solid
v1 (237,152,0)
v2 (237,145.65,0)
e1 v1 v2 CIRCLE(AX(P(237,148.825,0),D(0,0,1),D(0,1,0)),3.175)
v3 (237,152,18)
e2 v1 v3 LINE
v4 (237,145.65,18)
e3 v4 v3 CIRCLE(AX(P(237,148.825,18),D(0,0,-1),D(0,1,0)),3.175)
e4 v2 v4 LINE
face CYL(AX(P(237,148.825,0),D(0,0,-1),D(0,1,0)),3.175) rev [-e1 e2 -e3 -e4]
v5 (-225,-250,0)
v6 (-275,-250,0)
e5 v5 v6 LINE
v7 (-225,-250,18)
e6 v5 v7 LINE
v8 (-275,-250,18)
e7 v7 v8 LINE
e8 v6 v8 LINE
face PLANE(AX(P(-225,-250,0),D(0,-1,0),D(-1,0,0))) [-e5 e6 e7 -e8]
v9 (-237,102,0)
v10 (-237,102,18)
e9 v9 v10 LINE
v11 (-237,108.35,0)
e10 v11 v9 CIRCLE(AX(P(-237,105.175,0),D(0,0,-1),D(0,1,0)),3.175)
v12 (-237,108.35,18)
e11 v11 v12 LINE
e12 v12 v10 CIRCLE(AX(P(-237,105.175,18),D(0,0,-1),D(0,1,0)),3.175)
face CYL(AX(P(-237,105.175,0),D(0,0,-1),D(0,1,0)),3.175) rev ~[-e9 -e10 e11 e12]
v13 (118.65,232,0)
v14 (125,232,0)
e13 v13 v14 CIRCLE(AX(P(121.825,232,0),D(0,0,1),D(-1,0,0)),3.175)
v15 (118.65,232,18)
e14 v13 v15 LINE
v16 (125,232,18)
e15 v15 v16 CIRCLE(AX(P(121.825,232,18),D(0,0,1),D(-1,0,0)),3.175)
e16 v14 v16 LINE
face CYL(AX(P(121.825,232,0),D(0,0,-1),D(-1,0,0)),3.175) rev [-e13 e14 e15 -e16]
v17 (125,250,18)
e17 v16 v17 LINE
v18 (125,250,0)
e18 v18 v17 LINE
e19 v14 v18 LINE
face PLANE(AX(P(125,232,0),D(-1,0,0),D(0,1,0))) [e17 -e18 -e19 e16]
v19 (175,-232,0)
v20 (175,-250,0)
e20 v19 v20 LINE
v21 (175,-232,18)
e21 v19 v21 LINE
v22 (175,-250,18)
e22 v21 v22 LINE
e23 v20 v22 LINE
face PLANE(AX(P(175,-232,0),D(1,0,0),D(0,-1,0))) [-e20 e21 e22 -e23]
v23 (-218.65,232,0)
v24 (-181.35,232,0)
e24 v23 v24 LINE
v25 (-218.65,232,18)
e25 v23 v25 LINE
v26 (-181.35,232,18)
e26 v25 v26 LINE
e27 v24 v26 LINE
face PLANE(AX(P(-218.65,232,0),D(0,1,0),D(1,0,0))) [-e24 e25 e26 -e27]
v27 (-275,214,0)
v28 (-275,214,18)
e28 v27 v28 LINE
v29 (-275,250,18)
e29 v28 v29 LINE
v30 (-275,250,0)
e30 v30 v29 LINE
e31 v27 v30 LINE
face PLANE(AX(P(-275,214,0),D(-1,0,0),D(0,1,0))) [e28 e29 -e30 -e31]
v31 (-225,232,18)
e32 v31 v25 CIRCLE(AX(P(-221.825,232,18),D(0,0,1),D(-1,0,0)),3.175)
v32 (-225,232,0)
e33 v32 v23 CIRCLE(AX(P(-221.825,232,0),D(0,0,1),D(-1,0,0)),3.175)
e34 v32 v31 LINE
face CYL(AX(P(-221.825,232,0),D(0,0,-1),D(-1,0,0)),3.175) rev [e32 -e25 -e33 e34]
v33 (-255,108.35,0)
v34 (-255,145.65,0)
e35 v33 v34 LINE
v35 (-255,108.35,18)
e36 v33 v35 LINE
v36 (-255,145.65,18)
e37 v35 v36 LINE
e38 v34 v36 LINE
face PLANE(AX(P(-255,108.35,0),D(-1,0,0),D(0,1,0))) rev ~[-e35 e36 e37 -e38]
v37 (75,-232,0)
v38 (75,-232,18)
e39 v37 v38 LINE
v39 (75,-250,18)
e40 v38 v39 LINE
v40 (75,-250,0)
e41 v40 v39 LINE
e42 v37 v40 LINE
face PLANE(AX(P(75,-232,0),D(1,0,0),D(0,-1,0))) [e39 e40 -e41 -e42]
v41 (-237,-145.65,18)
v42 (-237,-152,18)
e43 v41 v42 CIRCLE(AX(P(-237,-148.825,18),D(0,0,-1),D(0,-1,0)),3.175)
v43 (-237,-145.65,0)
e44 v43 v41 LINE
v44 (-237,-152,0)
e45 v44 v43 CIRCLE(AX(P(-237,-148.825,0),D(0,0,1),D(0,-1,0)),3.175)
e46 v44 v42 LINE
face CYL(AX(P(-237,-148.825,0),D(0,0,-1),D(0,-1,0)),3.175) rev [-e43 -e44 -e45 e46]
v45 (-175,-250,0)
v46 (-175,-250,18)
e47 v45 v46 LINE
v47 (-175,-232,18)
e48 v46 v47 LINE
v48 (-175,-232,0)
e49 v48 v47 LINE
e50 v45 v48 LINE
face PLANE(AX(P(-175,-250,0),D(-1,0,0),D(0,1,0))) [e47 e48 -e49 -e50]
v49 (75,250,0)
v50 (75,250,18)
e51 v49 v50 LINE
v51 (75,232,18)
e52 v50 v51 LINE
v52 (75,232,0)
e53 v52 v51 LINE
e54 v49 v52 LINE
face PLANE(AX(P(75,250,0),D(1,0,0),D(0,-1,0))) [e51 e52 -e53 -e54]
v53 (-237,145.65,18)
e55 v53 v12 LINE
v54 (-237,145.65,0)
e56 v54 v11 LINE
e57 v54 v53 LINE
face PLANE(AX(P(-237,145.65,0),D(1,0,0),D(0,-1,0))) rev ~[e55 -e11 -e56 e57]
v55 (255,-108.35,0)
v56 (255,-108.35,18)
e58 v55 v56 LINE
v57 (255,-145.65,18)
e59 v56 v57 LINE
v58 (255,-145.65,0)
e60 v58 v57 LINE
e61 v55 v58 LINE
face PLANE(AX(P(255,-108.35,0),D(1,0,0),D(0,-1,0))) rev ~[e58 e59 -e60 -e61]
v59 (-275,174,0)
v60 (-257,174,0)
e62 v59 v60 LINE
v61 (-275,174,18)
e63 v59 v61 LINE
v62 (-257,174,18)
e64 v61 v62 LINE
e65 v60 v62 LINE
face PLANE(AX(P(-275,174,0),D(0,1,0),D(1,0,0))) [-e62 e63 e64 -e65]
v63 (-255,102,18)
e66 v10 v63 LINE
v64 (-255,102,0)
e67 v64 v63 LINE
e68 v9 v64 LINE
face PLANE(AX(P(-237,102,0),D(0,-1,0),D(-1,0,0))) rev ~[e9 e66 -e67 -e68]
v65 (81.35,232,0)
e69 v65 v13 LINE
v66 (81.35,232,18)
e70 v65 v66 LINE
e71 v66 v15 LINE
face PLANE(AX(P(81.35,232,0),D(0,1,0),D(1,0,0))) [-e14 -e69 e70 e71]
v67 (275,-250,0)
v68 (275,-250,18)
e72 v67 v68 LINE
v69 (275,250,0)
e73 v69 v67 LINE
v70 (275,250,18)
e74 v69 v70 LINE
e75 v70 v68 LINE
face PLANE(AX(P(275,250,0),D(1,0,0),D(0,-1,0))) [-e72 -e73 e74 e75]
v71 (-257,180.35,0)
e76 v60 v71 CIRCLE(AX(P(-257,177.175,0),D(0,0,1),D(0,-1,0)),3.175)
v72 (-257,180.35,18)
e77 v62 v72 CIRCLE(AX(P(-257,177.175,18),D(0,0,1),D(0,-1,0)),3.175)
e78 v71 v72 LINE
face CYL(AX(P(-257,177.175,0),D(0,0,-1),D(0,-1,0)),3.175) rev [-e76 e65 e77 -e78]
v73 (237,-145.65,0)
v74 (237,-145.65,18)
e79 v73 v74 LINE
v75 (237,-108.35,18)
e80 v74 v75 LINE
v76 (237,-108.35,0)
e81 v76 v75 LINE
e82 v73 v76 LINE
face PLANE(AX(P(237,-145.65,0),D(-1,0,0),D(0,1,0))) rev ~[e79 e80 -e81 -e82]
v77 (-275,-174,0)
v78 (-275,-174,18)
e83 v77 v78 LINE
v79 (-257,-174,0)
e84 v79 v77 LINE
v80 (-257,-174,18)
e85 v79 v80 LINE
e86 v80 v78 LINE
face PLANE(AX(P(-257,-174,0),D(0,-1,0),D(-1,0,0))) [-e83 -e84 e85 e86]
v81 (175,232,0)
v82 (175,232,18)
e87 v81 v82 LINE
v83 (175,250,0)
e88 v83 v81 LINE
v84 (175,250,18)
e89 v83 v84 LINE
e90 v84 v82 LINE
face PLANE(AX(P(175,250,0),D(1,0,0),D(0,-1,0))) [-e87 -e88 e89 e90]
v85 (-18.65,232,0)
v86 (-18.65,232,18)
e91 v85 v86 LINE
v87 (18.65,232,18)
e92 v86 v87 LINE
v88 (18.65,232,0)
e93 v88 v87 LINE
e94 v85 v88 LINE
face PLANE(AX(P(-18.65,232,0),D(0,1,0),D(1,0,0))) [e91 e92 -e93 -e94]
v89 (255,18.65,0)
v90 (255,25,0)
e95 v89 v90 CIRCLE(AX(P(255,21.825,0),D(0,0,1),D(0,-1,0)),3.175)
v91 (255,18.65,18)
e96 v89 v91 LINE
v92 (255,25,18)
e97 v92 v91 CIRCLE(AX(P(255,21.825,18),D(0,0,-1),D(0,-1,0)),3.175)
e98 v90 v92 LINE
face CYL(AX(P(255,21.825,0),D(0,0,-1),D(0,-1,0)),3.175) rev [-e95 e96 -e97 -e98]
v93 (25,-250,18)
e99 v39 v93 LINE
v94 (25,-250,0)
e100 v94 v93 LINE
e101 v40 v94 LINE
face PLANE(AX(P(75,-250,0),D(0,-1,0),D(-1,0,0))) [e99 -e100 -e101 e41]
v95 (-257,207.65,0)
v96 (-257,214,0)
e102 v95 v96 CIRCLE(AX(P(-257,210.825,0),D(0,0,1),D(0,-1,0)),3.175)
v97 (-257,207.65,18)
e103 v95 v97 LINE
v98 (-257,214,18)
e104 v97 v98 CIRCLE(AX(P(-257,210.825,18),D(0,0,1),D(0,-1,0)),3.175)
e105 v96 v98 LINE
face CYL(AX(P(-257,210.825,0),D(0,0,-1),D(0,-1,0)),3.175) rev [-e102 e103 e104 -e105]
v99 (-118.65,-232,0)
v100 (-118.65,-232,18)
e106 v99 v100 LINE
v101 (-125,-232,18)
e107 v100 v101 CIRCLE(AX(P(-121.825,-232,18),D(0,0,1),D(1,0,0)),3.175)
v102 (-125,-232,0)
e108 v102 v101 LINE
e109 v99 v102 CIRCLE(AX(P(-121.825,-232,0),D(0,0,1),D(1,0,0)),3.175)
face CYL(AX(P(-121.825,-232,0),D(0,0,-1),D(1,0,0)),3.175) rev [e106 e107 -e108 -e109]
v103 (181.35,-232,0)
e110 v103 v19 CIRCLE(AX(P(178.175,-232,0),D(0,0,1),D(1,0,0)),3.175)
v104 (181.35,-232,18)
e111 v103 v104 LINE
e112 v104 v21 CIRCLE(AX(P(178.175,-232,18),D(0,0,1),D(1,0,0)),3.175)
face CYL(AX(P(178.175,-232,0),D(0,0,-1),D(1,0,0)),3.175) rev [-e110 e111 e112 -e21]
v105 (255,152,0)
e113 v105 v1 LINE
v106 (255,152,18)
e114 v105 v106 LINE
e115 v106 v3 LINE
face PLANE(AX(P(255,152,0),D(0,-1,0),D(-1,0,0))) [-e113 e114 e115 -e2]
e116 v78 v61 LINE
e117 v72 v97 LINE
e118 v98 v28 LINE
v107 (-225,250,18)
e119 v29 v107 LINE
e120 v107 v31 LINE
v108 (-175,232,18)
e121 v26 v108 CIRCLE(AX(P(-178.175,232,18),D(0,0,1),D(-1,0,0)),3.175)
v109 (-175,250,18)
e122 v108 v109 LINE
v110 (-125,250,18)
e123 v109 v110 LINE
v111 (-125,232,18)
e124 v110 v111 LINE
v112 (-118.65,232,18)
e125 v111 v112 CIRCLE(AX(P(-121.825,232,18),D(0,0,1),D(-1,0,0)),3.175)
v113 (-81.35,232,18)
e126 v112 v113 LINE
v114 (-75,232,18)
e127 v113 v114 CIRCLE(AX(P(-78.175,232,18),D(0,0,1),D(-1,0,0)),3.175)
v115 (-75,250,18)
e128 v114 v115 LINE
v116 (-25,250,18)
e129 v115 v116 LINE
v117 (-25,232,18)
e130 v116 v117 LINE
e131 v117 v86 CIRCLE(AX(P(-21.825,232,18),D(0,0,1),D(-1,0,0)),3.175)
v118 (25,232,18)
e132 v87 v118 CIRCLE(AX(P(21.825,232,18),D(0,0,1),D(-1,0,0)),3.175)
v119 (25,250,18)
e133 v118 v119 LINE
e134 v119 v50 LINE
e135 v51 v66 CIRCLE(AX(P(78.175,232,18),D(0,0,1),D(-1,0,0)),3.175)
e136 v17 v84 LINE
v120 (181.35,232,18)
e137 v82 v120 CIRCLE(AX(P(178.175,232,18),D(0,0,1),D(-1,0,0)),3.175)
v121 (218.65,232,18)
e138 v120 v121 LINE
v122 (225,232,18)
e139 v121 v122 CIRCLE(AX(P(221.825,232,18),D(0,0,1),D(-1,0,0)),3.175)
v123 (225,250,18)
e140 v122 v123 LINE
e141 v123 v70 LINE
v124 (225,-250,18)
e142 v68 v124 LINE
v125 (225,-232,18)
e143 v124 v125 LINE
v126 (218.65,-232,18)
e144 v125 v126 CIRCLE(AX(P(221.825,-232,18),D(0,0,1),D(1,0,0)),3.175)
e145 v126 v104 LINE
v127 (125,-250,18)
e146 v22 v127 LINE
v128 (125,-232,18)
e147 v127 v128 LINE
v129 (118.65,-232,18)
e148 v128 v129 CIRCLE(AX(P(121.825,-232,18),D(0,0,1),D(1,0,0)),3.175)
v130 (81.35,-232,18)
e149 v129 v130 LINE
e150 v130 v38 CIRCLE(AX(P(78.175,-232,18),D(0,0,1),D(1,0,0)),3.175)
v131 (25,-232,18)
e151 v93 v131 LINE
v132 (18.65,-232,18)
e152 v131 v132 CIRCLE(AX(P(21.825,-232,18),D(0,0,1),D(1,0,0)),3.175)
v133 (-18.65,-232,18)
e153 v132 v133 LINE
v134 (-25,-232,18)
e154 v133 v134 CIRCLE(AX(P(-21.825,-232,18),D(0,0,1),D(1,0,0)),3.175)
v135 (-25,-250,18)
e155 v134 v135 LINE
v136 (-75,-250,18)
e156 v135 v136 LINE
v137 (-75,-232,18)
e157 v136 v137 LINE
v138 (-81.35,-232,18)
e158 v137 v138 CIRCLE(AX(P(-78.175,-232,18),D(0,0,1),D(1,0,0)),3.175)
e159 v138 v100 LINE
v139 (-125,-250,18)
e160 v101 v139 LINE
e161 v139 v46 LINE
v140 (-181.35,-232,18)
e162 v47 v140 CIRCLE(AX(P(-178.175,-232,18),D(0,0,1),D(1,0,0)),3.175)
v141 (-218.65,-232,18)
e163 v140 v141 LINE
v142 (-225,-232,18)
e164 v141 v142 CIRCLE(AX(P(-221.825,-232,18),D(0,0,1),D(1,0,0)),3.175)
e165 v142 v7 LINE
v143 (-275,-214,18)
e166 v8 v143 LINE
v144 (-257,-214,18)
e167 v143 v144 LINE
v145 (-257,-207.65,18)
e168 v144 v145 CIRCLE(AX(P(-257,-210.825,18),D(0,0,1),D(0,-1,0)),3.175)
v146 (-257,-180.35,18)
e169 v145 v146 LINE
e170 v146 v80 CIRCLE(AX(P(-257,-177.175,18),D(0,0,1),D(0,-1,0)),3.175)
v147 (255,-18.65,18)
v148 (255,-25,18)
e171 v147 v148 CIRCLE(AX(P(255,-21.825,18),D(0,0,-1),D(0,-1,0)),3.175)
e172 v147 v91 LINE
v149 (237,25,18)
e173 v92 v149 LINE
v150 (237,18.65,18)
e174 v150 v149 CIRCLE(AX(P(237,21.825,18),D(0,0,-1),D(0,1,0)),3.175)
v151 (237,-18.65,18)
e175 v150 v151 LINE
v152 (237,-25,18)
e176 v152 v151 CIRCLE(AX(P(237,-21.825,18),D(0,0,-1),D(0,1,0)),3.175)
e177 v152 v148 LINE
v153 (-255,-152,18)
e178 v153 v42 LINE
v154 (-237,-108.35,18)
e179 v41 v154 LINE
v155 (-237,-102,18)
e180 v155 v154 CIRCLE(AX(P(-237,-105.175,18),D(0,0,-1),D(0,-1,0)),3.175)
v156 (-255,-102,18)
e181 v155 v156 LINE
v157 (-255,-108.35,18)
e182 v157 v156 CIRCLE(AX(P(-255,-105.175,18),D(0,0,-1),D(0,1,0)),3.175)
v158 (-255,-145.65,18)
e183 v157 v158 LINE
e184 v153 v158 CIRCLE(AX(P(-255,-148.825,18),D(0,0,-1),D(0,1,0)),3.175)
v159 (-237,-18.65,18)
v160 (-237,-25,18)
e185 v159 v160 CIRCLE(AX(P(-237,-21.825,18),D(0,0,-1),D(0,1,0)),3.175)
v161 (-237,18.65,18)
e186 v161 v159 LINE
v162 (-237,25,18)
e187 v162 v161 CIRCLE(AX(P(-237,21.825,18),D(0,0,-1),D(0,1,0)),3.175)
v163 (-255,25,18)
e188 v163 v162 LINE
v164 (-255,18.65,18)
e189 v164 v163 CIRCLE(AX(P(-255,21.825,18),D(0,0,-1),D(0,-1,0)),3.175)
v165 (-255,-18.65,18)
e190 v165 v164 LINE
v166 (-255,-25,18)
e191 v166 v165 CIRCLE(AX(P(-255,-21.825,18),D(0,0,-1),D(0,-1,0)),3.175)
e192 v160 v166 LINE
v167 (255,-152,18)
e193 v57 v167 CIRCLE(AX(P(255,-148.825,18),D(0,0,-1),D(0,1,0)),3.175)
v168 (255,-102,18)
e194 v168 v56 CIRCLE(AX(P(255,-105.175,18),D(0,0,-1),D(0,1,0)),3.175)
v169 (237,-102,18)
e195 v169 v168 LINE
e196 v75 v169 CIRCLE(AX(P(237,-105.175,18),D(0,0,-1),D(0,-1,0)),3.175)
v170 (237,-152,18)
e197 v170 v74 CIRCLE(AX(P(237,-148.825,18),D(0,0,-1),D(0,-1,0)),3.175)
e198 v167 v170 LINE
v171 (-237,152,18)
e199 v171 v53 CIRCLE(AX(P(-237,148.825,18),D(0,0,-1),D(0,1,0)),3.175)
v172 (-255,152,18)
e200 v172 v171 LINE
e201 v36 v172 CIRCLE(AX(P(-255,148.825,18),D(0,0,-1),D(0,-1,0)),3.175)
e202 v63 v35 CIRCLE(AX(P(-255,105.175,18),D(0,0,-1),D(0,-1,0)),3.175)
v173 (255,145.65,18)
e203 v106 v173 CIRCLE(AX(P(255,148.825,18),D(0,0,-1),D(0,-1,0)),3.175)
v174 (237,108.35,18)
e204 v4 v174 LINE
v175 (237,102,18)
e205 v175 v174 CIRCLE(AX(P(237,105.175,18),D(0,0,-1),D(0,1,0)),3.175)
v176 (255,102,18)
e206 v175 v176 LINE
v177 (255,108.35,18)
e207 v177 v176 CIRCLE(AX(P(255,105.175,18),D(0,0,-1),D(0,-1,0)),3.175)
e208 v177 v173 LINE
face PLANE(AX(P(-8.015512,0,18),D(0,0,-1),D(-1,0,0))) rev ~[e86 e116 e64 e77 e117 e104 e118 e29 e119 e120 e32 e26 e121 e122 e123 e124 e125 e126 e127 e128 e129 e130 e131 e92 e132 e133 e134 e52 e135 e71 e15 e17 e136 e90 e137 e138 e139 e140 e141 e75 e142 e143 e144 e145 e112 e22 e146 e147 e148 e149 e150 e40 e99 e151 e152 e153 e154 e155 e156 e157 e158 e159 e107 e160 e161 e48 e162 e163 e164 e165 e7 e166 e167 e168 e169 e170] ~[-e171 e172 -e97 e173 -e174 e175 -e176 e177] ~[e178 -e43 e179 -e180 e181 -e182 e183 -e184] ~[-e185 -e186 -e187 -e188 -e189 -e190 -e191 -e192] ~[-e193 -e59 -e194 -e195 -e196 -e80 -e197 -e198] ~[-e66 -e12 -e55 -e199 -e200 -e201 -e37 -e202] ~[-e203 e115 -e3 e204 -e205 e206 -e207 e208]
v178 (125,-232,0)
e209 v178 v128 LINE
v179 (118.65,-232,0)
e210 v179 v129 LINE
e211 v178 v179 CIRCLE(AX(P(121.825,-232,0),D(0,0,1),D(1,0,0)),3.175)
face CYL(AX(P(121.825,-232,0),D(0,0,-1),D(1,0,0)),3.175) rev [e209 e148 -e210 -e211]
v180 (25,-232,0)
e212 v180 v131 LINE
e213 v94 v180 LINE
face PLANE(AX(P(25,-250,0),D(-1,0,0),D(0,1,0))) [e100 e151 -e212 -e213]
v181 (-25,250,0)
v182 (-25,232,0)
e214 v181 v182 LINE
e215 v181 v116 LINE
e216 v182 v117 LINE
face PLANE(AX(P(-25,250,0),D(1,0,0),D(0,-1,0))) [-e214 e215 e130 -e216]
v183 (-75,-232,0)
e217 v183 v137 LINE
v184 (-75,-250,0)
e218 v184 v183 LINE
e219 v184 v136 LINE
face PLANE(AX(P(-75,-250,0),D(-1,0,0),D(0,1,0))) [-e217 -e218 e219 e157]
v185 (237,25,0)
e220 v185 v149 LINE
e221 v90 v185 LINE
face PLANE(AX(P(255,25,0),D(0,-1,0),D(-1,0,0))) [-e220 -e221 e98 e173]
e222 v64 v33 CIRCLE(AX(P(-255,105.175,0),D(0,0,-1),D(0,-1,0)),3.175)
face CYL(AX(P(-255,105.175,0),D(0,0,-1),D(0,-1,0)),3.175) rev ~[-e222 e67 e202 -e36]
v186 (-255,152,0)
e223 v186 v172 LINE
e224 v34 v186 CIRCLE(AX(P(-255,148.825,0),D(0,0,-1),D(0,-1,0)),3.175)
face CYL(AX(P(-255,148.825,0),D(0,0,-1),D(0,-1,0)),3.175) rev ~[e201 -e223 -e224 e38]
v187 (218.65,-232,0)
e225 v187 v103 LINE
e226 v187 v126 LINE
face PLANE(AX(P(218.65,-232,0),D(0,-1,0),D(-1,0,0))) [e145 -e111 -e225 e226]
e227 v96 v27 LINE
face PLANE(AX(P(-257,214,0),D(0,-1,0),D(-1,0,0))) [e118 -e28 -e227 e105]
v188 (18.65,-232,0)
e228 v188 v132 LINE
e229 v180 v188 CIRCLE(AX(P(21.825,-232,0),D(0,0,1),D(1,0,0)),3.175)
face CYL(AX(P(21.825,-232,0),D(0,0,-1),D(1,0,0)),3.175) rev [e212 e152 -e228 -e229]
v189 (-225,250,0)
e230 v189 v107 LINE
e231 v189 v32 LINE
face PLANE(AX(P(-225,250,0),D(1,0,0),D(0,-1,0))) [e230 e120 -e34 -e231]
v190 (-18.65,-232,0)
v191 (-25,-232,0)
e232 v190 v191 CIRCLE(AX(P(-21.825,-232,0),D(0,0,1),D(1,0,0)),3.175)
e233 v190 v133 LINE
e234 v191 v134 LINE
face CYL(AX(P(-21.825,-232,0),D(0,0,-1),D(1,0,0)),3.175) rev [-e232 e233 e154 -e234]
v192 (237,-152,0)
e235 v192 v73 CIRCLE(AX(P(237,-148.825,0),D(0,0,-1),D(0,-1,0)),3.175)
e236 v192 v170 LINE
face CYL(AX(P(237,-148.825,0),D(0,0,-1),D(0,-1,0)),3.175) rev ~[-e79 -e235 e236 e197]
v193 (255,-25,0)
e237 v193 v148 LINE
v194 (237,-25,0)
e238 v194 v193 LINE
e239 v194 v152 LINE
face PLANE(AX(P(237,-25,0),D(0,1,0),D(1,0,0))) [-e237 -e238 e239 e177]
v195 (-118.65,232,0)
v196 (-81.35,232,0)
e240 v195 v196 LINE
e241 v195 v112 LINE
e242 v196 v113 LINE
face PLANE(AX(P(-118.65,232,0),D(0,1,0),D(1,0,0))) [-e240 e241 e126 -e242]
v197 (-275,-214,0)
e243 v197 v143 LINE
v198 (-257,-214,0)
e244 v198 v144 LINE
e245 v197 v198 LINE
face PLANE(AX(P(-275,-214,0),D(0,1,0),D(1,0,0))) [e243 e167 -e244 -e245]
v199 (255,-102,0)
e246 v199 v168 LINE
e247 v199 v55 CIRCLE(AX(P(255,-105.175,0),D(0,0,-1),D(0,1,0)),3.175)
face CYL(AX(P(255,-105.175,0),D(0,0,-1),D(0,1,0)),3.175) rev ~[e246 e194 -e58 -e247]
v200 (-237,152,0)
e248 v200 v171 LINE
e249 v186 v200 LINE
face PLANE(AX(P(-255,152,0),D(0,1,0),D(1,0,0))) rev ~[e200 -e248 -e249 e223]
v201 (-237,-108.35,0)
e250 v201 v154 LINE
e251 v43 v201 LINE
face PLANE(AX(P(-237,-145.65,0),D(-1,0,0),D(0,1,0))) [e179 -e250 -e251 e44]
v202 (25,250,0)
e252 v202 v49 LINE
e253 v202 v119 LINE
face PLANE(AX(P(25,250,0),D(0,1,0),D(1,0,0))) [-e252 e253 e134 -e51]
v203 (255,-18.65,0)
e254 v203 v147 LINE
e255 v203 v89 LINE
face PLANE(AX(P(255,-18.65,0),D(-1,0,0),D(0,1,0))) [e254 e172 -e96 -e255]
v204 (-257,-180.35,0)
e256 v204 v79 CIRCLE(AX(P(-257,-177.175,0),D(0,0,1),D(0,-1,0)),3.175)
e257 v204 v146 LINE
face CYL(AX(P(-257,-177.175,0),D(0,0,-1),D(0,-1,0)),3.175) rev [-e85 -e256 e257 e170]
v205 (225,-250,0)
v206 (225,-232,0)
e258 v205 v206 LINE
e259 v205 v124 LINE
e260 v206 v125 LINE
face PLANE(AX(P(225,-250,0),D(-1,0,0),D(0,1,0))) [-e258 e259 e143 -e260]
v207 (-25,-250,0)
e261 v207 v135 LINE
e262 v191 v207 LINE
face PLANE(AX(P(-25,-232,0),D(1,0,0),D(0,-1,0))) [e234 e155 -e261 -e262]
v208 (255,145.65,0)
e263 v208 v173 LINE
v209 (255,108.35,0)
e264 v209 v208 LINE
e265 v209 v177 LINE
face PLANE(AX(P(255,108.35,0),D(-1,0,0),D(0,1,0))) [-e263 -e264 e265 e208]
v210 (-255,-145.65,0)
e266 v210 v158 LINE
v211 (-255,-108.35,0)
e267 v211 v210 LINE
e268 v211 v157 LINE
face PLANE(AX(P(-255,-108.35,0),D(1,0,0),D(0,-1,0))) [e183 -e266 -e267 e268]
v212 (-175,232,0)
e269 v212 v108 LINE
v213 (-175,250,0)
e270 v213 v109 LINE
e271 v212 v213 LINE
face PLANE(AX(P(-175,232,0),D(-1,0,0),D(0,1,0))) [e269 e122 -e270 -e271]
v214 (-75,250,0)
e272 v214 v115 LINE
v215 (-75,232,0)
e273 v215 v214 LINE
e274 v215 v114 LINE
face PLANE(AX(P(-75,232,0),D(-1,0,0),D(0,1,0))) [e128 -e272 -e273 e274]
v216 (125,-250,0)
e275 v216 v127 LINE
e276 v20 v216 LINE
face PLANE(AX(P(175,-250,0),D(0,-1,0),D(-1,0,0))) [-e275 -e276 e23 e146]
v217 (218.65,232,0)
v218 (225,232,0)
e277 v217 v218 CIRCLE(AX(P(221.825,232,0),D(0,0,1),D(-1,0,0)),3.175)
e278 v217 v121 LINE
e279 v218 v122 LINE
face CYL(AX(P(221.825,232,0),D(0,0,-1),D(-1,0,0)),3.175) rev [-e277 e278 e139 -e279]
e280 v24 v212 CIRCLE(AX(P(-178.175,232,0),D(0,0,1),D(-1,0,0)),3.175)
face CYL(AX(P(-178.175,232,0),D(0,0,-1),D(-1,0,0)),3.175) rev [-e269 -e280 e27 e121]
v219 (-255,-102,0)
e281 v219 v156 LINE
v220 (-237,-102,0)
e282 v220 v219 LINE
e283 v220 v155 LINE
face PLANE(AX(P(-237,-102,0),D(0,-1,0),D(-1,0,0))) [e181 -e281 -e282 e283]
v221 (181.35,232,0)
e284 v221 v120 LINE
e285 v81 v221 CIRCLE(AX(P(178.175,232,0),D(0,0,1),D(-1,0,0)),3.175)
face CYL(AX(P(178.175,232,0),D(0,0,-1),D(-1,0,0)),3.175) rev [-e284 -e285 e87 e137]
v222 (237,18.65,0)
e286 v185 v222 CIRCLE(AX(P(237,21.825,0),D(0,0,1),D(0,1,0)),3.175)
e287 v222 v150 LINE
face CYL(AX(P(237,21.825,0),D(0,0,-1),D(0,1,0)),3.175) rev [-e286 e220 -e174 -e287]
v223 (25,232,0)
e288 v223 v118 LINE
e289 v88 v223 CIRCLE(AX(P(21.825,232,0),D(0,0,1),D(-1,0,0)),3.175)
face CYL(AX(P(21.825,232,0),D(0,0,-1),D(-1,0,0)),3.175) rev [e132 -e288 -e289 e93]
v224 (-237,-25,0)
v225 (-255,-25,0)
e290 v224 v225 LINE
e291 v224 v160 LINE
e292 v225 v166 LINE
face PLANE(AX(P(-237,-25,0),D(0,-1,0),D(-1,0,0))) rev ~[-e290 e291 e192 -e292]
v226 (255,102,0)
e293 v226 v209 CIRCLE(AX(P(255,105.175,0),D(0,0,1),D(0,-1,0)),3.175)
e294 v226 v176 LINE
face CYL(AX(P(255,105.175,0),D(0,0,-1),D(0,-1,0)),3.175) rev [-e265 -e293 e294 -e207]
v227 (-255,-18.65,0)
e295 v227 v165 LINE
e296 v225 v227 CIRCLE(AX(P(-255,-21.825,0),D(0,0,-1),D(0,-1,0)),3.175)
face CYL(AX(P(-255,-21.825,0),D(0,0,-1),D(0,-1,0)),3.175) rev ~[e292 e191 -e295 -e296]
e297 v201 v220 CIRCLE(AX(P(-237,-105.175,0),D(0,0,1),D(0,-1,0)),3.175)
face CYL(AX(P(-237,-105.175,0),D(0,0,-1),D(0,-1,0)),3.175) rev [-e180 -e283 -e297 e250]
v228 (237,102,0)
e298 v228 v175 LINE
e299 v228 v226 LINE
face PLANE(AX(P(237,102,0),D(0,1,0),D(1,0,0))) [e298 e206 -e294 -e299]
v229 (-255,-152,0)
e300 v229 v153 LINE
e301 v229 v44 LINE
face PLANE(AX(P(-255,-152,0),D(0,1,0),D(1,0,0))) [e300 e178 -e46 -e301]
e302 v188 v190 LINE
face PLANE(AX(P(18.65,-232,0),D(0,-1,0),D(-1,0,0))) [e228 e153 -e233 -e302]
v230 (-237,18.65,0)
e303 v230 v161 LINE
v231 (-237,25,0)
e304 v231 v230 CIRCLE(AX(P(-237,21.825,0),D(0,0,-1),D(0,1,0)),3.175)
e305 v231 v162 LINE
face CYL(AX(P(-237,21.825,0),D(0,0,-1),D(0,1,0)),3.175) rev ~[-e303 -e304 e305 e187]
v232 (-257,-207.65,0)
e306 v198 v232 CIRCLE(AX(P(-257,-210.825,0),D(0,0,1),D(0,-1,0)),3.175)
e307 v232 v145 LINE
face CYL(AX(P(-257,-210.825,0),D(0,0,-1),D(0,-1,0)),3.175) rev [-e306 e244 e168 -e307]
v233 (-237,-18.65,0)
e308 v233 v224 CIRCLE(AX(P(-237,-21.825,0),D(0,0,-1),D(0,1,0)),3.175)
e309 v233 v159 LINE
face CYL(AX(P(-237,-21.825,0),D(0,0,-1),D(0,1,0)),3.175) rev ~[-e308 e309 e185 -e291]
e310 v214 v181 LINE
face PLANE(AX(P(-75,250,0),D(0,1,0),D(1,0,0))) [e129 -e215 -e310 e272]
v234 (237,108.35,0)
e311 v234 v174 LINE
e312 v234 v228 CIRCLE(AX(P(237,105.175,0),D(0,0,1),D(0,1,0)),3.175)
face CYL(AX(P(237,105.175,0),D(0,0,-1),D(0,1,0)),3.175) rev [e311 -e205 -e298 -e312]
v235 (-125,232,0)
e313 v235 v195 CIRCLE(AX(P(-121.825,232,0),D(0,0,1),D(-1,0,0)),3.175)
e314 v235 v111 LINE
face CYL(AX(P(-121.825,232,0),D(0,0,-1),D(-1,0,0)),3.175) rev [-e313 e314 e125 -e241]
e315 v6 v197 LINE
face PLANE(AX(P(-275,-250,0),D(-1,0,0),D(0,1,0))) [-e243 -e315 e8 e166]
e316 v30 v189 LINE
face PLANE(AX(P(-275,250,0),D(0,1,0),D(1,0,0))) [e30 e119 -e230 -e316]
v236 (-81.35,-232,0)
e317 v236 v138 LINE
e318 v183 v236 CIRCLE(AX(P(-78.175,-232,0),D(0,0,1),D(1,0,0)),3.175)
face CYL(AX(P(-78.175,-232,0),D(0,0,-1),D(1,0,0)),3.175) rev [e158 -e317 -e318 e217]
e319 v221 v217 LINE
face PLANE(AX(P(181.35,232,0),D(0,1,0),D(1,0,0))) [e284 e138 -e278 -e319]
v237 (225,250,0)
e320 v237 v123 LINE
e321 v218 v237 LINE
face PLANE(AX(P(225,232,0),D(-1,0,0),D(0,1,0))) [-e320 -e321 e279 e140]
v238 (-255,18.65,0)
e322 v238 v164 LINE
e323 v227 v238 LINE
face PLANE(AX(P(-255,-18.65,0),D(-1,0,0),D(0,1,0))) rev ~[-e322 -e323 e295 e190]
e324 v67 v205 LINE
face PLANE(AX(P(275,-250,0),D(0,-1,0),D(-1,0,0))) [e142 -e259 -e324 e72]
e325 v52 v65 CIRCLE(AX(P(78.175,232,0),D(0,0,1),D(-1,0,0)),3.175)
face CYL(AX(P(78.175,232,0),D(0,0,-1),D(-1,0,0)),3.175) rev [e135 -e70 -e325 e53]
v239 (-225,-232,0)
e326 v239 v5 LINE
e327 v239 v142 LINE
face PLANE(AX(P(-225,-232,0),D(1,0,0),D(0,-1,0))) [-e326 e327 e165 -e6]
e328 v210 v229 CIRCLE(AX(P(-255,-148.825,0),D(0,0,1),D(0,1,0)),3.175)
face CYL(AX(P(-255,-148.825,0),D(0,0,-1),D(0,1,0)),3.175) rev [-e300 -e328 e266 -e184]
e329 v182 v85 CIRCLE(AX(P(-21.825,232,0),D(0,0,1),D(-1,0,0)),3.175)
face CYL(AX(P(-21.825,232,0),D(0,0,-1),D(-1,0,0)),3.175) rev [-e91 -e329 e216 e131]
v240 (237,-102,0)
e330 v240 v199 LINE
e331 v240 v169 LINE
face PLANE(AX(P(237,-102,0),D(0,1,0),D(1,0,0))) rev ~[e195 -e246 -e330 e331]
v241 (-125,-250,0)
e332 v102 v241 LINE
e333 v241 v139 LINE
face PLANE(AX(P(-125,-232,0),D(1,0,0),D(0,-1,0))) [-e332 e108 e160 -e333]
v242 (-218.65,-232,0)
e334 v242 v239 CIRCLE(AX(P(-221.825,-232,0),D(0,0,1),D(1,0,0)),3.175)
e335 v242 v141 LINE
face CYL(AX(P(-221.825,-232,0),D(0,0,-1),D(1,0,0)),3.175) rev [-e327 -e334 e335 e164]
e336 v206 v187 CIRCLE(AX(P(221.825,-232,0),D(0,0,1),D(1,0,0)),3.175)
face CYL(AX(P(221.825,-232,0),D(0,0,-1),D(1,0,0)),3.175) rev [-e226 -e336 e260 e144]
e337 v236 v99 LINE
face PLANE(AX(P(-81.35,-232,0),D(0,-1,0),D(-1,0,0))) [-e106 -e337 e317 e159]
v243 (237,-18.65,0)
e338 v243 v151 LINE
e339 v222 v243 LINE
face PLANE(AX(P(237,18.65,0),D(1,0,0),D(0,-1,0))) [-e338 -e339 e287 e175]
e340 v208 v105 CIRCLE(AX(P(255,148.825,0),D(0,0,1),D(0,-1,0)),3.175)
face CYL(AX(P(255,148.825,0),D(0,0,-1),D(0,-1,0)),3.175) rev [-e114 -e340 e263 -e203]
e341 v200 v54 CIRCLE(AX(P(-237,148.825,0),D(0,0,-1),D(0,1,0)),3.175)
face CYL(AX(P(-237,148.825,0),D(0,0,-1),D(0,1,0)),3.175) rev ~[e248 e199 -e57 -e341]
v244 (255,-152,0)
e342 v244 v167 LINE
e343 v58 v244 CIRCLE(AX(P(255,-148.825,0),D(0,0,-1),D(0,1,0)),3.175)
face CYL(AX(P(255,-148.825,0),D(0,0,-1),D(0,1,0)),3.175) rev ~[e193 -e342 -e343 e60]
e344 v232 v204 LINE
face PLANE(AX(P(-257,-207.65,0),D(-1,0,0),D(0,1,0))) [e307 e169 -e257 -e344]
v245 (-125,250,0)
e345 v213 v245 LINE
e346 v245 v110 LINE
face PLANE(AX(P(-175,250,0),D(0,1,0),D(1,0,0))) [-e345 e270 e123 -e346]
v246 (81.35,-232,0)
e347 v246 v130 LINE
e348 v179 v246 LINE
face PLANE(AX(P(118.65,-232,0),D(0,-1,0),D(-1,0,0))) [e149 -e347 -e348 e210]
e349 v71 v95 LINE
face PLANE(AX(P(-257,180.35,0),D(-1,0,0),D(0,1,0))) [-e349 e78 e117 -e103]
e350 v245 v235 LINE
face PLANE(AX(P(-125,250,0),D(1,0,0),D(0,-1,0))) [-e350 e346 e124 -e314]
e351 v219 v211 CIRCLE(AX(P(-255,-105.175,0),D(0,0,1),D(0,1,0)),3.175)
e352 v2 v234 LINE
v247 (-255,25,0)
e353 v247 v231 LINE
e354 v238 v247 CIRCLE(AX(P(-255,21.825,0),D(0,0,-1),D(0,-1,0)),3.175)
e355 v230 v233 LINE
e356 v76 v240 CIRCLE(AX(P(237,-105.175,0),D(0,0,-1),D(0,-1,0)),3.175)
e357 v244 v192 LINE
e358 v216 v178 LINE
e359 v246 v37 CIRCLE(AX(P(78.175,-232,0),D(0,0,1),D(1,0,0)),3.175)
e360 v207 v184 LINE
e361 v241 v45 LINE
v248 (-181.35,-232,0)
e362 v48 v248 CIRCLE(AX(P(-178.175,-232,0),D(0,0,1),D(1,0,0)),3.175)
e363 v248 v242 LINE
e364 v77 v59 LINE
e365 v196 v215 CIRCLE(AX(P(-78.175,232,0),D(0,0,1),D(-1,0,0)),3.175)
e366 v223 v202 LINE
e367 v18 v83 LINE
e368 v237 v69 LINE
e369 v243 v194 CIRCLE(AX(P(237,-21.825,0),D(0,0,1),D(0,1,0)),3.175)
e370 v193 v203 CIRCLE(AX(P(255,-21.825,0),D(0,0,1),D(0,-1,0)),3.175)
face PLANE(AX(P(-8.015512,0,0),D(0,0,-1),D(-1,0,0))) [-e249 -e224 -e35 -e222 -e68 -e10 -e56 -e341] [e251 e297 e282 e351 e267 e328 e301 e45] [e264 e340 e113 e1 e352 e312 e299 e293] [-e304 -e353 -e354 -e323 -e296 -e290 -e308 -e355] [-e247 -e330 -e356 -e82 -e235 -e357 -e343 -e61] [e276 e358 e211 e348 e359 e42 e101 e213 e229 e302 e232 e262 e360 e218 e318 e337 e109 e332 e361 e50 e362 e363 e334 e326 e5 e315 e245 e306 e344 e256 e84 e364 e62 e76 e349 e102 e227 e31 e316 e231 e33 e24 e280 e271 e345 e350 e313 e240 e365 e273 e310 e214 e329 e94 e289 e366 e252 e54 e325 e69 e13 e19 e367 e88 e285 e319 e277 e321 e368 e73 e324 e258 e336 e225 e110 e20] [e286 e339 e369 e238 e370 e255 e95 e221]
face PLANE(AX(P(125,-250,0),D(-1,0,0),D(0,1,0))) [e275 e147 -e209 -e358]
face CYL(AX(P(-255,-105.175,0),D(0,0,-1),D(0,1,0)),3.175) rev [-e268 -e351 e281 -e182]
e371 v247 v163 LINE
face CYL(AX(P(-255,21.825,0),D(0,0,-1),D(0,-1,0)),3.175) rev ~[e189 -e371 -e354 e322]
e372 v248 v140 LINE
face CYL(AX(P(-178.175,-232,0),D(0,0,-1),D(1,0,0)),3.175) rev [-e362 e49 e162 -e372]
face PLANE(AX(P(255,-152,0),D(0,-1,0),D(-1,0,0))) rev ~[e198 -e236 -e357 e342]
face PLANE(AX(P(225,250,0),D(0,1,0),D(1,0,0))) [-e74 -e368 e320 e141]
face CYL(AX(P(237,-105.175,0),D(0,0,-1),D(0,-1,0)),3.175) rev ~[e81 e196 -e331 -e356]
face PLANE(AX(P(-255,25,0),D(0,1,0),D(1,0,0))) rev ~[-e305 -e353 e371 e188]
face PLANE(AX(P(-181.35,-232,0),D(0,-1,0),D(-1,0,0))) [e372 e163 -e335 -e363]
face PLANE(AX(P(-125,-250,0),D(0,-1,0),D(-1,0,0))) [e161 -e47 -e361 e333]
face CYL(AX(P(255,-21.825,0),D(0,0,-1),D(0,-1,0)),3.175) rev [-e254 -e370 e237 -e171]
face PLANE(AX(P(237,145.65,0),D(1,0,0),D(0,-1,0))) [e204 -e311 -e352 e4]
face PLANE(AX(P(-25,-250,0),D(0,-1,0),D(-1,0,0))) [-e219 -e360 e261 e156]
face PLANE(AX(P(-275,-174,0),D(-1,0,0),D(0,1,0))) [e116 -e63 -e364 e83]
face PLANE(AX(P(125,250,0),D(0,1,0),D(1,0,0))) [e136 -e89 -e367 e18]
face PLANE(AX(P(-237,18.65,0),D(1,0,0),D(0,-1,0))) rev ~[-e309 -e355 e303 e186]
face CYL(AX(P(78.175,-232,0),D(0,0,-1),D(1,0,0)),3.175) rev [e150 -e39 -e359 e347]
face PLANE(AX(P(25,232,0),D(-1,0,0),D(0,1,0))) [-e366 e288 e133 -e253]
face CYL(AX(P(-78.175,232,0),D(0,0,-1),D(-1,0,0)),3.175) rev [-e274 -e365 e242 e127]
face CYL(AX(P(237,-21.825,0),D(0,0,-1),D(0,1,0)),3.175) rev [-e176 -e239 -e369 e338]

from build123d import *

# Parameters (mm, degrees)
ESTRUSIONE_ESTRUSIONE1_DEPTH = 18
TAGLIO_ESTRUSIONE1_DEPTH     = 115
TAGLIO_ESTRUSIONE2_DEPTH     = 258
TAGLIO_ESTRUSIONE3_DEPTH     = 723
TAGLIO_ESTRUSIONE4_DEPTH     = 160
TAGLIO_ESTRUSIONE5_DEPTH     = 190
TAGLIO_ESTRUSIONE6_DEPTH     = 231


with BuildPart() as part:
    # Schizzo2 → Estrusione-Estrusione1 (new body)
    with BuildSketch(Plane.XY):
        with BuildLine():
            Line((-275, -250), (-275, -214))
            Line((-275, -214), (-257, -214))
            ThreePointArc((-257, -214), (-253.825, -210.825), (-257, -207.65))
            Line((-257, -207.65), (-257, -180.35))
            ThreePointArc((-257, -180.35), (-253.825, -177.175), (-257, -174))
            Line((-257, -174), (-275, -174))
            Line((-275, -174), (-275, 174))
            Line((-275, 174), (-257, 174))
            ThreePointArc((-257, 174), (-253.825, 177.175), (-257, 180.35))
            Line((-257, 180.35), (-257, 207.65))
            ThreePointArc((-257, 207.65), (-253.825, 210.825), (-257, 214))
            Line((-257, 214), (-275, 214))
            Line((-275, 214), (-275, 250))
            Line((-275, 250), (-225, 250))
            Line((-225, 250), (-225, 232))
            ThreePointArc((-225, 232), (-221.825, 228.825), (-218.65, 232))
            Line((-218.65, 232), (-181.35, 232))
            ThreePointArc((-181.35, 232), (-178.175, 228.825), (-175, 232))
            Line((-175, 232), (-175, 250))
            Line((-175, 250), (-125, 250))
            Line((-125, 250), (-125, 232))
            ThreePointArc((-125, 232), (-121.825, 228.825), (-118.65, 232))
            Line((-118.65, 232), (-81.35, 232))
            ThreePointArc((-81.35, 232), (-78.175, 228.825), (-75, 232))
            Line((-75, 232), (-75, 250))
            Line((-75, 250), (-25, 250))
            Line((-25, 250), (-25, 232))
            ThreePointArc((-25, 232), (-21.825, 228.825), (-18.65, 232))
            Line((-18.65, 232), (18.65, 232))
            ThreePointArc((18.65, 232), (21.825, 228.825), (25, 232))
            Line((25, 232), (25, 250))
            Line((25, 250), (75, 250))
            Line((75, 250), (75, 232))
            ThreePointArc((75, 232), (78.175, 228.825), (81.35, 232))
            Line((81.35, 232), (118.65, 232))
            ThreePointArc((118.65, 232), (121.825, 228.825), (125, 232))
            Line((125, 232), (125, 250))
            Line((125, 250), (175, 250))
            Line((175, 250), (175, 232))
            ThreePointArc((175, 232), (178.175, 228.825), (181.35, 232))
            Line((181.35, 232), (218.65, 232))
            ThreePointArc((218.65, 232), (221.825, 228.825), (225, 232))
            Line((225, 232), (225, 250))
            Line((225, 250), (275, 250))
            Line((275, 250), (275, -250))
            Line((275, -250), (225, -250))
            Line((225, -250), (225, -232))
            ThreePointArc((225, -232), (221.825, -228.825), (218.65, -232))
            Line((218.65, -232), (181.35, -232))
            ThreePointArc((181.35, -232), (178.175, -228.825), (175, -232))
            Line((175, -232), (175, -250))
            Line((175, -250), (125, -250))
            Line((125, -250), (125, -232))
            ThreePointArc((125, -232), (121.825, -228.825), (118.65, -232))
            Line((118.65, -232), (81.35, -232))
            ThreePointArc((81.35, -232), (78.175, -228.825), (75, -232))
            Line((75, -232), (75, -250))
            Line((75, -250), (25, -250))
            Line((25, -250), (25, -232))
            ThreePointArc((25, -232), (21.825, -228.825), (18.65, -232))
            Line((18.65, -232), (-18.65, -232))
            ThreePointArc((-18.65, -232), (-21.825, -228.825), (-25, -232))
            Line((-25, -232), (-25, -250))
            Line((-25, -250), (-75, -250))
            Line((-75, -250), (-75, -232))
            ThreePointArc((-75, -232), (-78.175, -228.825), (-81.35, -232))
            Line((-81.35, -232), (-118.65, -232))
            ThreePointArc((-118.65, -232), (-121.825, -228.825), (-125, -232))
            Line((-125, -232), (-125, -250))
            Line((-125, -250), (-175, -250))
            Line((-175, -250), (-175, -232))
            ThreePointArc((-175, -232), (-178.175, -228.825), (-181.35, -232))
            Line((-181.35, -232), (-218.65, -232))
            ThreePointArc((-218.65, -232), (-221.825, -228.825), (-225, -232))
            Line((-225, -232), (-225, -250))
            Line((-225, -250), (-275, -250))
        make_face()
    extrude(amount=ESTRUSIONE_ESTRUSIONE1_DEPTH)

    # Schizzo2<4> → Taglio-Estrusione1 (cut)
    with BuildSketch(Plane.XY):
        with BuildLine():
            Line((237, 145.65), (237, 108.35))
            ThreePointArc((237, 108.35), (233.825, 105.175), (237, 102))
            Line((237, 102), (255, 102))
            ThreePointArc((255, 102), (258.175, 105.175), (255, 108.35))
            Line((255, 108.35), (255, 145.65))
            ThreePointArc((255, 145.65), (258.175, 148.825), (255, 152))
            Line((255, 152), (237, 152))
            ThreePointArc((237, 152), (233.825, 148.825), (237, 145.65))
        make_face()
    extrude(amount=TAGLIO_ESTRUSIONE1_DEPTH, mode=Mode.SUBTRACT)

    # Schizzo2<5> → Taglio-Estrusione2 (cut)
    with BuildSketch(Plane.XY):
        with BuildLine():
            Line((255, -18.65), (255, 18.65))
            ThreePointArc((255, 18.65), (258.175, 21.825), (255, 25))
            Line((255, 25), (237, 25))
            ThreePointArc((237, 25), (233.825, 21.825), (237, 18.65))
            Line((237, 18.65), (237, -18.65))
            ThreePointArc((237, -18.65), (233.825, -21.825), (237, -25))
            Line((237, -25), (255, -25))
            ThreePointArc((255, -25), (258.175, -21.825), (255, -18.65))
        make_face()
    extrude(amount=TAGLIO_ESTRUSIONE2_DEPTH, mode=Mode.SUBTRACT)

    # Schizzo2<7> → Taglio-Estrusione3 (cut)
    with BuildSketch(Plane.XY):
        with BuildLine():
            Line((255, -152), (237, -152))
            ThreePointArc((237, -152), (233.825, -148.825), (237, -145.65))
            Line((237, -145.65), (237, -108.35))
            ThreePointArc((237, -108.35), (233.825, -105.175), (237, -102))
            Line((237, -102), (255, -102))
            ThreePointArc((255, -102), (258.175, -105.175), (255, -108.35))
            Line((255, -108.35), (255, -145.65))
            ThreePointArc((255, -145.65), (258.175, -148.825), (255, -152))
        make_face()
    extrude(amount=TAGLIO_ESTRUSIONE3_DEPTH, mode=Mode.SUBTRACT)

    # Schizzo2<8> → Taglio-Estrusione4 (cut)
    with BuildSketch(Plane.XY):
        with BuildLine():
            Line((-255, 152), (-237, 152))
            ThreePointArc((-237, 152), (-233.825, 148.825), (-237, 145.65))
            Line((-237, 145.65), (-237, 108.35))
            ThreePointArc((-237, 108.35), (-233.825, 105.175), (-237, 102))
            Line((-237, 102), (-255, 102))
            ThreePointArc((-255, 102), (-258.175, 105.175), (-255, 108.35))
            Line((-255, 108.35), (-255, 145.65))
            ThreePointArc((-255, 145.65), (-258.175, 148.825), (-255, 152))
        make_face()
    extrude(amount=TAGLIO_ESTRUSIONE4_DEPTH, mode=Mode.SUBTRACT)

    # Schizzo2<9> → Taglio-Estrusione5 (cut)
    with BuildSketch(Plane.XY):
        with BuildLine():
            Line((-255, 25), (-237, 25))
            ThreePointArc((-237, 25), (-233.825, 21.825), (-237, 18.65))
            Line((-237, 18.65), (-237, -18.65))
            ThreePointArc((-237, -18.65), (-233.825, -21.825), (-237, -25))
            Line((-237, -25), (-255, -25))
            ThreePointArc((-255, -25), (-258.175, -21.825), (-255, -18.65))
            Line((-255, -18.65), (-255, 18.65))
            ThreePointArc((-255, 18.65), (-258.175, 21.825), (-255, 25))
        make_face()
    extrude(amount=TAGLIO_ESTRUSIONE5_DEPTH, mode=Mode.SUBTRACT)

    # Schizzo2<10> → Taglio-Estrusione6 (cut)
    with BuildSketch(Plane.XY):
        with BuildLine():
            Line((-237, -145.65), (-237, -108.35))
            ThreePointArc((-237, -108.35), (-233.825, -105.175), (-237, -102))
            Line((-237, -102), (-255, -102))
            ThreePointArc((-255, -102), (-258.175, -105.175), (-255, -108.35))
            Line((-255, -108.35), (-255, -145.65))
            ThreePointArc((-255, -145.65), (-258.175, -148.825), (-255, -152))
            Line((-255, -152), (-237, -152))
            ThreePointArc((-237, -152), (-233.825, -148.825), (-237, -145.65))
        make_face()
    extrude(amount=TAGLIO_ESTRUSIONE6_DEPTH, mode=Mode.SUBTRACT)


solid = part.part
